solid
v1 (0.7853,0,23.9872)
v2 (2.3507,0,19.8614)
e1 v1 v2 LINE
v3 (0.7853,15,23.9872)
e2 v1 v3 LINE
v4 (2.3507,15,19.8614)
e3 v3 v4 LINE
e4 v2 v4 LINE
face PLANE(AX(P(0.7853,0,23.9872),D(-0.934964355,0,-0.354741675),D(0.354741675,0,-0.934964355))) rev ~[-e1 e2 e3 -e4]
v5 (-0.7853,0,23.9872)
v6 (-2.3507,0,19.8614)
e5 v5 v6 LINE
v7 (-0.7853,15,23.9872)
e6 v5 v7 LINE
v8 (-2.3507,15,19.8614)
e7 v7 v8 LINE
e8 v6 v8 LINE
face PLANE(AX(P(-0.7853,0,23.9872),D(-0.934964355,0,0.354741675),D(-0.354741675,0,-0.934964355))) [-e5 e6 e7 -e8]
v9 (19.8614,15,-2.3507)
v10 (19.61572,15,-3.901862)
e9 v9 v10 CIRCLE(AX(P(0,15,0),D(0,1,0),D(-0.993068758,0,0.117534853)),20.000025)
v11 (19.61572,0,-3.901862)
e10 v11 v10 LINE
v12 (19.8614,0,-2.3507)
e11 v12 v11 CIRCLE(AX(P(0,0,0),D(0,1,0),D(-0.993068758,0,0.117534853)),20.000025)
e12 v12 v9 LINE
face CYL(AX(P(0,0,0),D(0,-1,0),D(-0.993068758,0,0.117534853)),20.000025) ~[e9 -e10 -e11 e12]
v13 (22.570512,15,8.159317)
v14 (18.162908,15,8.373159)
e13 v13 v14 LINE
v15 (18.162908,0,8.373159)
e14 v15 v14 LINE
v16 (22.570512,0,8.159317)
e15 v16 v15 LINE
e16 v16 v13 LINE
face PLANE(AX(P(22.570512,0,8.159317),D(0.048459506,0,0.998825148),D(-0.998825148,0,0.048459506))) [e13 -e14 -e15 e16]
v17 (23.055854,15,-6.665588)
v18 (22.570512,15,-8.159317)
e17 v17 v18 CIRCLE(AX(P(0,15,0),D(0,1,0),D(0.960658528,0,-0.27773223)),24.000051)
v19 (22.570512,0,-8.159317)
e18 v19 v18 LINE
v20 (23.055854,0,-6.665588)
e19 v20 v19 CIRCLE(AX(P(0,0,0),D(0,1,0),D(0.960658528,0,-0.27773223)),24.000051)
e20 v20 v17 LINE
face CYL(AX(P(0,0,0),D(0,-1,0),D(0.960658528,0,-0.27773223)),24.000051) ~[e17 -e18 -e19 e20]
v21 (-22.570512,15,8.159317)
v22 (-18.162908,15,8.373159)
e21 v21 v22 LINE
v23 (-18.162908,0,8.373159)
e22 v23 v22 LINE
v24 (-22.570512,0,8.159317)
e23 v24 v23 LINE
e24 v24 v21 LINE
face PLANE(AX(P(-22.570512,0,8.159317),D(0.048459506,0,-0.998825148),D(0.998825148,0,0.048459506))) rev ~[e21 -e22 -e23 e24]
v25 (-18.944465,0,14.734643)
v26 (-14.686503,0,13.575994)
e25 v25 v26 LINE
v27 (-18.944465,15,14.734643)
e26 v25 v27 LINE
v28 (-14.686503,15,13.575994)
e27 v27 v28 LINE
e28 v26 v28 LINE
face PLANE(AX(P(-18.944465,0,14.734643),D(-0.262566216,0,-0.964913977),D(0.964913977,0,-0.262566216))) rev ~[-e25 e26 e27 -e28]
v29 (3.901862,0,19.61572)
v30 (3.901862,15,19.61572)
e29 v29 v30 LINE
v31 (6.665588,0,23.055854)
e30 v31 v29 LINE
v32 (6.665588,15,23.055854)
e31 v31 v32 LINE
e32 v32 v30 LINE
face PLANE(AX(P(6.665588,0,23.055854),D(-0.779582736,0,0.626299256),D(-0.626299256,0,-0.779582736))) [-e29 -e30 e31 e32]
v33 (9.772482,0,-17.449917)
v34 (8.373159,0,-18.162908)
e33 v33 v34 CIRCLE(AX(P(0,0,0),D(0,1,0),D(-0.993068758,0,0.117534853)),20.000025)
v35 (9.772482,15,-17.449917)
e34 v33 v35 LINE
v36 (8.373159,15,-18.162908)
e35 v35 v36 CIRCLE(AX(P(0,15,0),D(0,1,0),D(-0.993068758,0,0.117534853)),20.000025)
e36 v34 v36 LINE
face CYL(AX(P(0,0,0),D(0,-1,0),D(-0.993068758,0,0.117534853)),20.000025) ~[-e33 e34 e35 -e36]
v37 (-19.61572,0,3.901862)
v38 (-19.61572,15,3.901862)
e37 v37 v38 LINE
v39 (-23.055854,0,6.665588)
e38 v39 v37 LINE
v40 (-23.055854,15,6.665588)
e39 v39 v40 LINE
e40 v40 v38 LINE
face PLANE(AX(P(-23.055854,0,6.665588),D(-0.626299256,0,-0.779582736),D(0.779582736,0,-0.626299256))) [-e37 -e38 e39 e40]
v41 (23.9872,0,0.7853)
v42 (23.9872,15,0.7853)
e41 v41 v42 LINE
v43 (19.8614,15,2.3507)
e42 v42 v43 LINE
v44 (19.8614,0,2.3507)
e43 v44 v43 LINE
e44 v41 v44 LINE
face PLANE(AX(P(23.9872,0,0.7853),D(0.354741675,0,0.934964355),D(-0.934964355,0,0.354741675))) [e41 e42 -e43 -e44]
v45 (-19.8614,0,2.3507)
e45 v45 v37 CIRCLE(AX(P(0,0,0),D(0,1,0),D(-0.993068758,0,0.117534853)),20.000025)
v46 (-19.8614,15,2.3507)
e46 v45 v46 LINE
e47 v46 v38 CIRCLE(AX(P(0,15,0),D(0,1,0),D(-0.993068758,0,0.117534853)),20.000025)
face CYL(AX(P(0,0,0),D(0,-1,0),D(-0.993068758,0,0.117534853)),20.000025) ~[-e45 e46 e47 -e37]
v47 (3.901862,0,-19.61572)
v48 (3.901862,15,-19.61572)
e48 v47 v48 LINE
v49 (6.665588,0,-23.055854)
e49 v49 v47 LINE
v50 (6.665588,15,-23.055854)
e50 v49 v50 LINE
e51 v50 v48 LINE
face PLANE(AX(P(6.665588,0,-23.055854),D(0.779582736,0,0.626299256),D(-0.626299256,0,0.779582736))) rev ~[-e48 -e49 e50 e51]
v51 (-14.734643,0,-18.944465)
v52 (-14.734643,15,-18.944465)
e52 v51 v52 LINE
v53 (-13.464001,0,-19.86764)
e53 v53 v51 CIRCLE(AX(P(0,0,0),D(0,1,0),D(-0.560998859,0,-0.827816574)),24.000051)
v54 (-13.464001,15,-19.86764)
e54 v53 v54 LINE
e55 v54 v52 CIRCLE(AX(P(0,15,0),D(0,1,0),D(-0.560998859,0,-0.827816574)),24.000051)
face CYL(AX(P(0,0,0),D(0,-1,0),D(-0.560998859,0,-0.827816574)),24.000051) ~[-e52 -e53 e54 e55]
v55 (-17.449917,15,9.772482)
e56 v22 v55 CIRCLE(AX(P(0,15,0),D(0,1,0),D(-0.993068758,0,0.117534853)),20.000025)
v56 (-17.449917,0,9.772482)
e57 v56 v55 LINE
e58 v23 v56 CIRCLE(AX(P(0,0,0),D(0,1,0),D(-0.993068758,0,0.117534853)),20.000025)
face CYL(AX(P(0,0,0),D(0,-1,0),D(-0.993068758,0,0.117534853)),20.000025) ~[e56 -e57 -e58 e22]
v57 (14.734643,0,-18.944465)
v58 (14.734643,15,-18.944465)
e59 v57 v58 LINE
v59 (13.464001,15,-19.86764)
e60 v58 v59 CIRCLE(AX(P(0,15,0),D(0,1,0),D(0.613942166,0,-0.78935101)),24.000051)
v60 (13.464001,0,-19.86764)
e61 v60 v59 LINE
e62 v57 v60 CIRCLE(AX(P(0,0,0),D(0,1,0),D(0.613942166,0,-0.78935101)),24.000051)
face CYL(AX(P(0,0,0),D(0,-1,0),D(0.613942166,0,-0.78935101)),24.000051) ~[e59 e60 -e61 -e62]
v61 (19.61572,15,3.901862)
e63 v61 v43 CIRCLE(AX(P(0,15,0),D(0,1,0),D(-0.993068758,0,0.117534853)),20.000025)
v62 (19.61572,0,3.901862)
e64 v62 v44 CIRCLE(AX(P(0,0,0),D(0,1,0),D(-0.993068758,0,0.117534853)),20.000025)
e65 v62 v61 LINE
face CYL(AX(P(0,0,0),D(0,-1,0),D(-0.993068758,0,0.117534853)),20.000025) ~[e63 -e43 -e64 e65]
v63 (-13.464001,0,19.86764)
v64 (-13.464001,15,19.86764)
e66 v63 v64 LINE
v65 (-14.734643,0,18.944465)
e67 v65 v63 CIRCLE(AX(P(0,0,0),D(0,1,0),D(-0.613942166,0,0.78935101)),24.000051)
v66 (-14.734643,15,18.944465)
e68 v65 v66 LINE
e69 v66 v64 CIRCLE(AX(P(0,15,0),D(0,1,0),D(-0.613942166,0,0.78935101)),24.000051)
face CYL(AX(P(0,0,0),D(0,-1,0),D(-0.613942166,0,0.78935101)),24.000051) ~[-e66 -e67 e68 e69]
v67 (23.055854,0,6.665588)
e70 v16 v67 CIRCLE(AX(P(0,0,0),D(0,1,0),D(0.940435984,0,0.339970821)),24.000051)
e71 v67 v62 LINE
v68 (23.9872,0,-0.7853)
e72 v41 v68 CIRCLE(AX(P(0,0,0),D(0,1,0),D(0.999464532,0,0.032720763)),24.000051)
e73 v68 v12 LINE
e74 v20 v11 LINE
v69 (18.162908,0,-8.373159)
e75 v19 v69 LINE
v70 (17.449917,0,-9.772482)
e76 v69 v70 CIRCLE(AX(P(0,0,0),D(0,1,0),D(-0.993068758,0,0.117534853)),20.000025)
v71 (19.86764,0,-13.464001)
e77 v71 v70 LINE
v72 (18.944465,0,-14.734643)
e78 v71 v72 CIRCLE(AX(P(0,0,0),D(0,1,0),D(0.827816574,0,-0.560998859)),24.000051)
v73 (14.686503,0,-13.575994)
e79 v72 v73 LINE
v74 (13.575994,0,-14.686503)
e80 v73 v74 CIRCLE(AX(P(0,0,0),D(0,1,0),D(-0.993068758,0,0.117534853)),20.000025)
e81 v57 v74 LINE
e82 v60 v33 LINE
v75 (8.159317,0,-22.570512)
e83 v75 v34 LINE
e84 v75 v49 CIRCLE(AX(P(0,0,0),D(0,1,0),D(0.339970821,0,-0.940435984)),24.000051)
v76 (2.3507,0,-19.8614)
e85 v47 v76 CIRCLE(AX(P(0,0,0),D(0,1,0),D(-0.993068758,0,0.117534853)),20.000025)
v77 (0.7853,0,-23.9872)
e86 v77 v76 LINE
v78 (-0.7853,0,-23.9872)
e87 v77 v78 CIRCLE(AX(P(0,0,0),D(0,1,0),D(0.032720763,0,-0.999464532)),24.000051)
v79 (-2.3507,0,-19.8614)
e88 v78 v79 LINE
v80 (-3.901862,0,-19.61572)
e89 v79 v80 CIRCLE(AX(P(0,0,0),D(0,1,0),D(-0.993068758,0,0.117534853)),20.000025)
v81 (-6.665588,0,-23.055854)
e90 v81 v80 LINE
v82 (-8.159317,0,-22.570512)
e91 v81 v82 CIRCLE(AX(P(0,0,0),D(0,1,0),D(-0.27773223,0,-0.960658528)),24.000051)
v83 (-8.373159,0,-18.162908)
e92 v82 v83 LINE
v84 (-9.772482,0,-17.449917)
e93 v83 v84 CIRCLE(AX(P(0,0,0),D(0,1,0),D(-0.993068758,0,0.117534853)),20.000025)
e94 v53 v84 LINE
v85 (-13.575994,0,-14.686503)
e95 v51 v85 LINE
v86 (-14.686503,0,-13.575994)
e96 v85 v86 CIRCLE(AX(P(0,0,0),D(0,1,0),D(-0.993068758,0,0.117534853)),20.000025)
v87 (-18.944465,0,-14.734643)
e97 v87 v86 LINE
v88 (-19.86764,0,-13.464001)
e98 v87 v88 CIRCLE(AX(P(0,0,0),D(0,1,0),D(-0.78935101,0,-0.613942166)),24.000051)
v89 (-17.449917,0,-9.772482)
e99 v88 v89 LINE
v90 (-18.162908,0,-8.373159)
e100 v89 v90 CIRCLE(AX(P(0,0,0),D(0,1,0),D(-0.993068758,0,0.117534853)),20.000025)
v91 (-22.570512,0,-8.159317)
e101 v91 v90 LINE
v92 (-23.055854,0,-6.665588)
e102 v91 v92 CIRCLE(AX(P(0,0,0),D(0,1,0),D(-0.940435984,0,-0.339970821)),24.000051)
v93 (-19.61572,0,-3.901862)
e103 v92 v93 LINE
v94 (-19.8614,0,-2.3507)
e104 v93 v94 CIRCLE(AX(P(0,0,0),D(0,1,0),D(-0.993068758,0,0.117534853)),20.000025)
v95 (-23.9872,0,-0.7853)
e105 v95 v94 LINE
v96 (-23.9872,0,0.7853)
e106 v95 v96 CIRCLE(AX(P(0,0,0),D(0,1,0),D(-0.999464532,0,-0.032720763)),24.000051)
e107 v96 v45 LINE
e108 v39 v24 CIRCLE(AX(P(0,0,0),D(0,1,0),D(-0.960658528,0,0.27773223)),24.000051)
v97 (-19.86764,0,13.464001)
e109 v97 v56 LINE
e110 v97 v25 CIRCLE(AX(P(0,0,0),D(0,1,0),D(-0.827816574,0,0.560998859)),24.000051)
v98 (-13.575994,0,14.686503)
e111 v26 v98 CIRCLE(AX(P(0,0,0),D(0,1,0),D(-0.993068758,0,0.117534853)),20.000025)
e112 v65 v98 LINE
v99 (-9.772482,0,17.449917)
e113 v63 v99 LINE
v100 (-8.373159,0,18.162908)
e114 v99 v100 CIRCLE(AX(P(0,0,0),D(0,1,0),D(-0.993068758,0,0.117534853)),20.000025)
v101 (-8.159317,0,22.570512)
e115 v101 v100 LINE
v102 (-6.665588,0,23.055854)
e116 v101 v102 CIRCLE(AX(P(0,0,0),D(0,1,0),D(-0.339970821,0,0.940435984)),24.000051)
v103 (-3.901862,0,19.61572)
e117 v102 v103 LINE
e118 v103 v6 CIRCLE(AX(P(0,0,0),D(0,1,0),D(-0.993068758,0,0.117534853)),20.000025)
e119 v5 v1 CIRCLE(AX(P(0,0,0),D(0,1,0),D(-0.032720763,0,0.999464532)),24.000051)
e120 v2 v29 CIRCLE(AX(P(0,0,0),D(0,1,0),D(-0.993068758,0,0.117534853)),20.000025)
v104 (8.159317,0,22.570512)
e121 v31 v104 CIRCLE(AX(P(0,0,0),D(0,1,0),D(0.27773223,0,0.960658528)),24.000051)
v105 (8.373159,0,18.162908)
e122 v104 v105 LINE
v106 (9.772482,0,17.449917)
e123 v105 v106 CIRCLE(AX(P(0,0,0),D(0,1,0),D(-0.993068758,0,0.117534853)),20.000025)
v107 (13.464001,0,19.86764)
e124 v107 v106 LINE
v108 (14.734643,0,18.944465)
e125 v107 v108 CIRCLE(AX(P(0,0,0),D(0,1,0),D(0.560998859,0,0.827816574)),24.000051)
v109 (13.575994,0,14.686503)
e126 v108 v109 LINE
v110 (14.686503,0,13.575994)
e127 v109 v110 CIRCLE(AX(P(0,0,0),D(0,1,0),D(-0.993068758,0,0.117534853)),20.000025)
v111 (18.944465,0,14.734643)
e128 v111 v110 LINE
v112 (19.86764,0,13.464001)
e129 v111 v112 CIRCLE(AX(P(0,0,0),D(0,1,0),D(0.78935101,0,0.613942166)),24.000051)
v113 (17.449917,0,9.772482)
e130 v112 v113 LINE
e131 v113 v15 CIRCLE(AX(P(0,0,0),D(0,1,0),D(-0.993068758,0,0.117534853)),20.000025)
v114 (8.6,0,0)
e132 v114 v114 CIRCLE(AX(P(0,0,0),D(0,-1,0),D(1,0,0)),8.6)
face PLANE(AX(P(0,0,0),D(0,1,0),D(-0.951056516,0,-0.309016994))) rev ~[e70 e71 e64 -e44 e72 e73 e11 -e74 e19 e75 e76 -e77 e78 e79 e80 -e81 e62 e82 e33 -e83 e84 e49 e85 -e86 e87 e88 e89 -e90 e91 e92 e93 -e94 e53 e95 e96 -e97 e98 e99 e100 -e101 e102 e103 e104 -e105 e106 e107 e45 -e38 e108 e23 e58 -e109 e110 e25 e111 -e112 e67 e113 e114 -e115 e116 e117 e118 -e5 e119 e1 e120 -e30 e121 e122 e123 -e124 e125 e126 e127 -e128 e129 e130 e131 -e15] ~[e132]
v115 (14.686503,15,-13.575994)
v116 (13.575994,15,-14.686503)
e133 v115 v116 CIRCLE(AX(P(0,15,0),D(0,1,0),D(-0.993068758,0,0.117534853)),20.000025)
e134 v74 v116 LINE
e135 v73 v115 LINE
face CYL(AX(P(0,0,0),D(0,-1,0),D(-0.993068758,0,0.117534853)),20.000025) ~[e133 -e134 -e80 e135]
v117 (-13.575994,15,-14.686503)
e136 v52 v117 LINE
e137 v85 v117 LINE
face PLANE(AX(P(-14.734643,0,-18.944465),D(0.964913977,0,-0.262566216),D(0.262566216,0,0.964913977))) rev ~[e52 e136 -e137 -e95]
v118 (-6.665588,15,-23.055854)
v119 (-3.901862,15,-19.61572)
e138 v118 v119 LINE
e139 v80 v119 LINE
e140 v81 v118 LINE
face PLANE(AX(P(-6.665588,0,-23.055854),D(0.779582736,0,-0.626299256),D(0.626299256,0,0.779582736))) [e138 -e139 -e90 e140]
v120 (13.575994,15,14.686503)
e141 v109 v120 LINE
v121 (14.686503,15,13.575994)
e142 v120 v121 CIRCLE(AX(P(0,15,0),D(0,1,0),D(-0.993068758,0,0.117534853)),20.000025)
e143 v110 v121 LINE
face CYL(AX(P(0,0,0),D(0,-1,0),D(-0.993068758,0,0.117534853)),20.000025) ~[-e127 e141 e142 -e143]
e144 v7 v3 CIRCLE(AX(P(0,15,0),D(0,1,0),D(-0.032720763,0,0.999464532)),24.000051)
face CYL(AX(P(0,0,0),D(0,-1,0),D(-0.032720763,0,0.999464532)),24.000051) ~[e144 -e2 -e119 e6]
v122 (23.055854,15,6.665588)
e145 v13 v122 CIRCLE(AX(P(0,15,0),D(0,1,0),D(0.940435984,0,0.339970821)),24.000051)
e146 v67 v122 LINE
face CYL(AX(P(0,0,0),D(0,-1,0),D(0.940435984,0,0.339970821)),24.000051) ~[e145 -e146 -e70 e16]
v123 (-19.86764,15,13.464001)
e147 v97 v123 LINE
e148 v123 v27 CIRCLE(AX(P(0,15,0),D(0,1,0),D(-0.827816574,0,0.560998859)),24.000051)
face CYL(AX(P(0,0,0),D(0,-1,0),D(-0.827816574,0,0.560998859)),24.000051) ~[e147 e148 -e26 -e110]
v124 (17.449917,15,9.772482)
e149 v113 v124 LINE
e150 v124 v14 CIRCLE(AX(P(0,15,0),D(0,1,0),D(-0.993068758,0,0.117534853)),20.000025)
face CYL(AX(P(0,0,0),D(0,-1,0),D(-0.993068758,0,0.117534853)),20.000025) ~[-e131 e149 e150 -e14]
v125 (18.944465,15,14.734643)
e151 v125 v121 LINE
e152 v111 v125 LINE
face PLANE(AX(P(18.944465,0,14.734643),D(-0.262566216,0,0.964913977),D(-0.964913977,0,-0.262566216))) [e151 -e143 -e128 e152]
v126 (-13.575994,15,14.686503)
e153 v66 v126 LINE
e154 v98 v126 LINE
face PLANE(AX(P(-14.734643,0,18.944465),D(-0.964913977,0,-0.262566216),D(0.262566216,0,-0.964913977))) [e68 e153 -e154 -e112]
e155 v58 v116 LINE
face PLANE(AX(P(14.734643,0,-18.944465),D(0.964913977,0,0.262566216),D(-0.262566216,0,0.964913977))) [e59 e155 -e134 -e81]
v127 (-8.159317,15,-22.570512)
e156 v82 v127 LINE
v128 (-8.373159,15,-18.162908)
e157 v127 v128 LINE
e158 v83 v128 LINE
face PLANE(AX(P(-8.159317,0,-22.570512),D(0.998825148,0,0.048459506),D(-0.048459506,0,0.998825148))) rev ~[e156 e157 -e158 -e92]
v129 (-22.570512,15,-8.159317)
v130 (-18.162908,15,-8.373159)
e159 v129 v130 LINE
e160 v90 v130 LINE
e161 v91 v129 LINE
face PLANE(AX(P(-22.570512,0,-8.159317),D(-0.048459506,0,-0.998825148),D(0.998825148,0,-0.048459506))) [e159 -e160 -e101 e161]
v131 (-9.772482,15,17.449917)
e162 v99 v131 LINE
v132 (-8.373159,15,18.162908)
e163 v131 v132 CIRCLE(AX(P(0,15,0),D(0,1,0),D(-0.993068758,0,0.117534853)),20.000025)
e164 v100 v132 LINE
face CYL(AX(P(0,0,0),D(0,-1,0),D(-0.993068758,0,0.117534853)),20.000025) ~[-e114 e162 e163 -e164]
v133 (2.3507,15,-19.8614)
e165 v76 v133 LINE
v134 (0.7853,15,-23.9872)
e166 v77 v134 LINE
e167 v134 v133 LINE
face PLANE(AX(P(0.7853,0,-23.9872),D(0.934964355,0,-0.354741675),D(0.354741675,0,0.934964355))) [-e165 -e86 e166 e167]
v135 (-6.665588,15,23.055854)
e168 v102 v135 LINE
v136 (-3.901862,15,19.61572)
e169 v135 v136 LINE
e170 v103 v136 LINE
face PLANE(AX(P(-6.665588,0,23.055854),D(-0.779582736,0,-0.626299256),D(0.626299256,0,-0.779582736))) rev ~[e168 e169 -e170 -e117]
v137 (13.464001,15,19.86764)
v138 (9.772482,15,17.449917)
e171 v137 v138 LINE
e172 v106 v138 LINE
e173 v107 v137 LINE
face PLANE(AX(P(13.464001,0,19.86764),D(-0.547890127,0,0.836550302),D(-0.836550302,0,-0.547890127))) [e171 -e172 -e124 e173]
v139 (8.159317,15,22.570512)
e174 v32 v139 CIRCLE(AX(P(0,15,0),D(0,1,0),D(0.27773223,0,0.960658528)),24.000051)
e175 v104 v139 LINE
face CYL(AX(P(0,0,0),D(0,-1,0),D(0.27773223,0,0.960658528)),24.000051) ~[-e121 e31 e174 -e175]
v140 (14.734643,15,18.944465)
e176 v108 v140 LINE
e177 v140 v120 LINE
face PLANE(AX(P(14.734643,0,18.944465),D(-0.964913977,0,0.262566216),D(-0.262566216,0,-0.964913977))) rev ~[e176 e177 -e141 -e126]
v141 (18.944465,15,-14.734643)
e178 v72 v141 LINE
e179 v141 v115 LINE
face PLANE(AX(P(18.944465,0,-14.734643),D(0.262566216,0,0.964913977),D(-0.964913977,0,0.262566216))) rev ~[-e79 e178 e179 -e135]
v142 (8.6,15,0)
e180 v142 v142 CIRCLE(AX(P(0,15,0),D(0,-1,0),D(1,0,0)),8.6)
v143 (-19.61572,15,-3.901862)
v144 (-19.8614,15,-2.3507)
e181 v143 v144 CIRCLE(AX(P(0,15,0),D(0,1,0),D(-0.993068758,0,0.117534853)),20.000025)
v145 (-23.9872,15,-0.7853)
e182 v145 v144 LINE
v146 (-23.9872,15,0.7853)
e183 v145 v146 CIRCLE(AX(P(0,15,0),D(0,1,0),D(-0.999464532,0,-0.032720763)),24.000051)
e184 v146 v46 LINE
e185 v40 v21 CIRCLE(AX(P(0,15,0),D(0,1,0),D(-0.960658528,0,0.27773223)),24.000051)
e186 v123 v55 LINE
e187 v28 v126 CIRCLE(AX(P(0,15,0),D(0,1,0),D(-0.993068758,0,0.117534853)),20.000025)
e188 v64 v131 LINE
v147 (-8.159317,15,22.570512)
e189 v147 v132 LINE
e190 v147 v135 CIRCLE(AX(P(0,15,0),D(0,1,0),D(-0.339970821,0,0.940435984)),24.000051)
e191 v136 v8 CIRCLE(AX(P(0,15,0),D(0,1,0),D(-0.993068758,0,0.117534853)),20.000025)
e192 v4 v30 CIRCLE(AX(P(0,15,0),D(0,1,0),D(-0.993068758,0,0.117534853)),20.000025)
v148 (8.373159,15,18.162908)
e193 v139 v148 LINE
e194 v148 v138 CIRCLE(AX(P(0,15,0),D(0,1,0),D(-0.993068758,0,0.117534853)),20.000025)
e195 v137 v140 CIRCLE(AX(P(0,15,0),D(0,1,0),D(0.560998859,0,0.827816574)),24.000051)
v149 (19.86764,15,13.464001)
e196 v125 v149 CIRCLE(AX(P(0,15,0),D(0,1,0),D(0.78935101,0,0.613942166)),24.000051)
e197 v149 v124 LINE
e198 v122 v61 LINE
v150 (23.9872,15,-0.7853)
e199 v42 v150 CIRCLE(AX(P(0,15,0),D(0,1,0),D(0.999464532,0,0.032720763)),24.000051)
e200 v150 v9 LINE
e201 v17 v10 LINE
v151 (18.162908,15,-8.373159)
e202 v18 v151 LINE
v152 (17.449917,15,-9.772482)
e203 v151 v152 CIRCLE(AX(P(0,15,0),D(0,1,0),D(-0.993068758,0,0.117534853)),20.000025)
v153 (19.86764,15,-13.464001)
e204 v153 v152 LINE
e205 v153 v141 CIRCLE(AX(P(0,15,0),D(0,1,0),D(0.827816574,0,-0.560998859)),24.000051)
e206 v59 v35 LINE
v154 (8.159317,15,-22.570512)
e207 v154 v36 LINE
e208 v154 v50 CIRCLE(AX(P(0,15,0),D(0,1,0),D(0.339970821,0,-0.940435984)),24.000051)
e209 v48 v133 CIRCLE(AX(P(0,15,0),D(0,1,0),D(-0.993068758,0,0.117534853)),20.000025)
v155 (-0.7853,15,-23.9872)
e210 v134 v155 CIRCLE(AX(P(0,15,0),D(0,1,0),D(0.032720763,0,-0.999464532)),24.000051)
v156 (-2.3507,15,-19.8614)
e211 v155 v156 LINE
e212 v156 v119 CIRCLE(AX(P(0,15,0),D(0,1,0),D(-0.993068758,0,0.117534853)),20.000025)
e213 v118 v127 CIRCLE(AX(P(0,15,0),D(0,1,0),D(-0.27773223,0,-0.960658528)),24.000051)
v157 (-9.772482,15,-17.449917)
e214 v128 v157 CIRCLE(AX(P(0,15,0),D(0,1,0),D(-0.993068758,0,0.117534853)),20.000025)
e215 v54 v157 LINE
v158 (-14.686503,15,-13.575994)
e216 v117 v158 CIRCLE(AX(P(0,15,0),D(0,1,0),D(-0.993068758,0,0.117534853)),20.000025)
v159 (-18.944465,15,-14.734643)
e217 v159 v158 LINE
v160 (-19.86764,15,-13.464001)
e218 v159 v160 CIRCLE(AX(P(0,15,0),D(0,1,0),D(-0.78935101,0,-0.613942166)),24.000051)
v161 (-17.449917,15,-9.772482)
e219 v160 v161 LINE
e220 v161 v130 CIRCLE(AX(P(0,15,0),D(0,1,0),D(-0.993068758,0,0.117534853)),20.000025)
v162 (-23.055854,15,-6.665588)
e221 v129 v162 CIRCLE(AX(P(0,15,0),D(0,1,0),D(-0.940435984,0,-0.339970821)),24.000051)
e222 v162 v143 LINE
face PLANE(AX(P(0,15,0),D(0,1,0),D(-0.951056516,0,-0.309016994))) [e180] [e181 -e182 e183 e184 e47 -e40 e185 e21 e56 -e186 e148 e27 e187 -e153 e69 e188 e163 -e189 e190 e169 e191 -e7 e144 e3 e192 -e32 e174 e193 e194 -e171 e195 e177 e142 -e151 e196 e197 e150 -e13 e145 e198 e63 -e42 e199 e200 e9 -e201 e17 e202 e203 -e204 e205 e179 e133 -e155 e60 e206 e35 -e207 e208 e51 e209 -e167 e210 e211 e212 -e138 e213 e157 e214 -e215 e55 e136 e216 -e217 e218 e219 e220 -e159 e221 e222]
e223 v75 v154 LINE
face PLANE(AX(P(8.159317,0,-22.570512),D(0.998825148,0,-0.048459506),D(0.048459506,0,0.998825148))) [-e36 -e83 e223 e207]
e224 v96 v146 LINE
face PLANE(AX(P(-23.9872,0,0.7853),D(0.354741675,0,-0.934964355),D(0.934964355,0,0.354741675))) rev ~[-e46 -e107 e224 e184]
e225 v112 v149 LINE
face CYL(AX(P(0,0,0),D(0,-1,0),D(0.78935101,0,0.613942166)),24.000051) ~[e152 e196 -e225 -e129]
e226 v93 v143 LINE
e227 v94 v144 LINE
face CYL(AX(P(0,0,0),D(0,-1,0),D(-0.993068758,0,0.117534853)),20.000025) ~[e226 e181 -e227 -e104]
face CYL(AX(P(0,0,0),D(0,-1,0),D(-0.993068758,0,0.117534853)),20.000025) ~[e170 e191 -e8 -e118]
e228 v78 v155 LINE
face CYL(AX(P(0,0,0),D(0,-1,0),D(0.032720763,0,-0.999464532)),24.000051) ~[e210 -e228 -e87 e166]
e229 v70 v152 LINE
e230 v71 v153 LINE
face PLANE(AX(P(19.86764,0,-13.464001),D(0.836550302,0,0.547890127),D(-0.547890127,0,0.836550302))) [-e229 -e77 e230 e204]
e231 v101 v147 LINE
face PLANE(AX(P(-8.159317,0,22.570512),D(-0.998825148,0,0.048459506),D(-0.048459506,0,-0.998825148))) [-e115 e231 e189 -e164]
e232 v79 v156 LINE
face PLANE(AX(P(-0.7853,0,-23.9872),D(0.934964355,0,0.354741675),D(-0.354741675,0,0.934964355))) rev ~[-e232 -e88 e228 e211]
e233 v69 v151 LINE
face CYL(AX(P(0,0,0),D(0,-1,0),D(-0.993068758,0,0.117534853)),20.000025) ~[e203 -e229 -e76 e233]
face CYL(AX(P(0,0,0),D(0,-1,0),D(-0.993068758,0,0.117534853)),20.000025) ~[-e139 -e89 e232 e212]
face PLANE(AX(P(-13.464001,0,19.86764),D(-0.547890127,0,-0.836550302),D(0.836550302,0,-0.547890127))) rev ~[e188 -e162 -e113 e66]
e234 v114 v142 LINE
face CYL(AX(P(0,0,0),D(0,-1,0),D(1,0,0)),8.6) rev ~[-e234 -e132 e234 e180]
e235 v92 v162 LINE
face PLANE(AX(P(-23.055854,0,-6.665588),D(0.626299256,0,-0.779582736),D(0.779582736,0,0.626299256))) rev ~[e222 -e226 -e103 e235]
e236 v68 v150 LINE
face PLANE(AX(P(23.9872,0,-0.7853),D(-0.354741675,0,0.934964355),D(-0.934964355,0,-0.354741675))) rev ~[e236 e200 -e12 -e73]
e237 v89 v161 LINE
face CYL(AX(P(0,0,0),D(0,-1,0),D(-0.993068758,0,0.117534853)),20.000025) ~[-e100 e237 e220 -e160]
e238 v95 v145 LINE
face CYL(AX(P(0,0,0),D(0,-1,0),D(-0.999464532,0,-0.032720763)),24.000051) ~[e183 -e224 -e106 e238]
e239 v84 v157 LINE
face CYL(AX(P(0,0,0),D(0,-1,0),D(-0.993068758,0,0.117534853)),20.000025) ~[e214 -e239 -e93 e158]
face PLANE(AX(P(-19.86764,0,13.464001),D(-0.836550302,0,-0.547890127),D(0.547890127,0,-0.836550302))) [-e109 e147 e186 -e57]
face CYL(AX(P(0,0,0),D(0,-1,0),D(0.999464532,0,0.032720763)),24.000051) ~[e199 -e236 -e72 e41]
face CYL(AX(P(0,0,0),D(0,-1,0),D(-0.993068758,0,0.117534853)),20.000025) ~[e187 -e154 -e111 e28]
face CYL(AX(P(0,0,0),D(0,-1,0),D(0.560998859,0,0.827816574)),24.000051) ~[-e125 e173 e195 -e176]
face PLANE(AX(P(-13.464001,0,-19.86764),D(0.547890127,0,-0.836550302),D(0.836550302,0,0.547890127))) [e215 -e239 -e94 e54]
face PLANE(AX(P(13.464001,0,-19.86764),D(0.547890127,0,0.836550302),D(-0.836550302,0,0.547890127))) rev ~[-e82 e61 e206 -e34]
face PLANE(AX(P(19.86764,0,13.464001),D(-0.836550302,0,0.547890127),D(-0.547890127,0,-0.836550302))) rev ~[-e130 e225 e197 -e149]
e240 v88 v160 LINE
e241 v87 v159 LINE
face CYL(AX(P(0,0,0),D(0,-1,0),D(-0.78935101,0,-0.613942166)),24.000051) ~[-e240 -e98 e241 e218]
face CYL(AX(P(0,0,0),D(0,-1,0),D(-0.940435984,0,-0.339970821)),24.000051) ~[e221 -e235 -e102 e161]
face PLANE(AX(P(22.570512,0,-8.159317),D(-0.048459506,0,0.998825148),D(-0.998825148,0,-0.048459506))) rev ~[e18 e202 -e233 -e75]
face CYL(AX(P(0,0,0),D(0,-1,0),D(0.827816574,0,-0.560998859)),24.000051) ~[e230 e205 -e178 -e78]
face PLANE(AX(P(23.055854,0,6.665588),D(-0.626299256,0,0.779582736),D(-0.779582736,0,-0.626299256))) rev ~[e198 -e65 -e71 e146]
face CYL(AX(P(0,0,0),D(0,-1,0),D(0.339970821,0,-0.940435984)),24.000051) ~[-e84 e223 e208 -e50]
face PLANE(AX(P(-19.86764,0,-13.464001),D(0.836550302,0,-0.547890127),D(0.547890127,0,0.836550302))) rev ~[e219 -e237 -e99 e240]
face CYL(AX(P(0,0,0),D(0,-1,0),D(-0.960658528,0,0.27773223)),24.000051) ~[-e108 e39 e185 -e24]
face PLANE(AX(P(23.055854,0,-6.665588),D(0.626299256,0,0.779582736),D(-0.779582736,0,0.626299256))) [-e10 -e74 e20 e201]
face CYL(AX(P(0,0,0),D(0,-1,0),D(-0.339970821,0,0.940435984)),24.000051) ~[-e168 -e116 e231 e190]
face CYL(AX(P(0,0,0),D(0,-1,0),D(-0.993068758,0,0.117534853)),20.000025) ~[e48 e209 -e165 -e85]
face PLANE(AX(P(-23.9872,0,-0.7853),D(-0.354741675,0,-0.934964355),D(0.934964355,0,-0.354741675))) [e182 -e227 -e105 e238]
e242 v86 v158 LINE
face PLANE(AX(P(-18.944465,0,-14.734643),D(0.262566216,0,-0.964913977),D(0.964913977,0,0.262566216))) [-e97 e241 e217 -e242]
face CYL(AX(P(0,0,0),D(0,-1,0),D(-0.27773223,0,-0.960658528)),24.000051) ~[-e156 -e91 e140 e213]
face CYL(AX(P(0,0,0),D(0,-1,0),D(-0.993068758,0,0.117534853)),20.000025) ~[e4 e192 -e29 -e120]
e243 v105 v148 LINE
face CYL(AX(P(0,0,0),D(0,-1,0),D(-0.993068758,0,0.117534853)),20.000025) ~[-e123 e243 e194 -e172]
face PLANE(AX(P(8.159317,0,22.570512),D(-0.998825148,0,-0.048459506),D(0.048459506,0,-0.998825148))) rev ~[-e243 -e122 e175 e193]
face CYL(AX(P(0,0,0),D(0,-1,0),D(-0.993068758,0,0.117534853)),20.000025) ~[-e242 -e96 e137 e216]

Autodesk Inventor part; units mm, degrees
ref_plane "YZ Plane" through (0, 0, 0) normal (1, 0, 0) x (0, 1, 0)
ref_plane "XZ Plane" through (0, 0, 0) normal (0, 1, 0) x (-1, 0, 0)
ref_plane "XY Plane" through (0, 0, 0) normal (0, 0, 1) x (1, 0, 0)
sketch "Sketch1" plane through (0, 0, 0) normal (0, 1, 0) x (-1, 0, 0)
  arc A0 (19.8614, 2.3507) -> (19.8614, -2.3507) centre (0, 0) ccw
  arc A1 (23.9872, -0.7853) -> (23.9872, 0.7853) centre (0, 0) ccw
  line L0 (0, 0) -> (20, 0) construction
  line L1 (0, 0) -> (24, 0) construction
  line L2 (23.9872, -0.7853) -> (19.8614, -2.3507)
  line L3 (23.9872, 0.7853) -> (19.8614, 2.3507)
extrude "Extrusion1" add sketch "Sketch1" along normal blind 15
pattern_circular "Circular Pattern1" count 20 over 360 about axis through (0, 0, 0) along (0, 1, 0) of "Extrusion1"
sketch "Sketch2" plane through (0, 0, 0) normal (0, -1, 0) x (1, 0, 0)
  circle A0 centre (0, 0) radius 8.6
extrude "Extrusion2" cut sketch "Sketch2" against normal blind 15
properties part number "gear_small" material "Gypsum Wall Board"
